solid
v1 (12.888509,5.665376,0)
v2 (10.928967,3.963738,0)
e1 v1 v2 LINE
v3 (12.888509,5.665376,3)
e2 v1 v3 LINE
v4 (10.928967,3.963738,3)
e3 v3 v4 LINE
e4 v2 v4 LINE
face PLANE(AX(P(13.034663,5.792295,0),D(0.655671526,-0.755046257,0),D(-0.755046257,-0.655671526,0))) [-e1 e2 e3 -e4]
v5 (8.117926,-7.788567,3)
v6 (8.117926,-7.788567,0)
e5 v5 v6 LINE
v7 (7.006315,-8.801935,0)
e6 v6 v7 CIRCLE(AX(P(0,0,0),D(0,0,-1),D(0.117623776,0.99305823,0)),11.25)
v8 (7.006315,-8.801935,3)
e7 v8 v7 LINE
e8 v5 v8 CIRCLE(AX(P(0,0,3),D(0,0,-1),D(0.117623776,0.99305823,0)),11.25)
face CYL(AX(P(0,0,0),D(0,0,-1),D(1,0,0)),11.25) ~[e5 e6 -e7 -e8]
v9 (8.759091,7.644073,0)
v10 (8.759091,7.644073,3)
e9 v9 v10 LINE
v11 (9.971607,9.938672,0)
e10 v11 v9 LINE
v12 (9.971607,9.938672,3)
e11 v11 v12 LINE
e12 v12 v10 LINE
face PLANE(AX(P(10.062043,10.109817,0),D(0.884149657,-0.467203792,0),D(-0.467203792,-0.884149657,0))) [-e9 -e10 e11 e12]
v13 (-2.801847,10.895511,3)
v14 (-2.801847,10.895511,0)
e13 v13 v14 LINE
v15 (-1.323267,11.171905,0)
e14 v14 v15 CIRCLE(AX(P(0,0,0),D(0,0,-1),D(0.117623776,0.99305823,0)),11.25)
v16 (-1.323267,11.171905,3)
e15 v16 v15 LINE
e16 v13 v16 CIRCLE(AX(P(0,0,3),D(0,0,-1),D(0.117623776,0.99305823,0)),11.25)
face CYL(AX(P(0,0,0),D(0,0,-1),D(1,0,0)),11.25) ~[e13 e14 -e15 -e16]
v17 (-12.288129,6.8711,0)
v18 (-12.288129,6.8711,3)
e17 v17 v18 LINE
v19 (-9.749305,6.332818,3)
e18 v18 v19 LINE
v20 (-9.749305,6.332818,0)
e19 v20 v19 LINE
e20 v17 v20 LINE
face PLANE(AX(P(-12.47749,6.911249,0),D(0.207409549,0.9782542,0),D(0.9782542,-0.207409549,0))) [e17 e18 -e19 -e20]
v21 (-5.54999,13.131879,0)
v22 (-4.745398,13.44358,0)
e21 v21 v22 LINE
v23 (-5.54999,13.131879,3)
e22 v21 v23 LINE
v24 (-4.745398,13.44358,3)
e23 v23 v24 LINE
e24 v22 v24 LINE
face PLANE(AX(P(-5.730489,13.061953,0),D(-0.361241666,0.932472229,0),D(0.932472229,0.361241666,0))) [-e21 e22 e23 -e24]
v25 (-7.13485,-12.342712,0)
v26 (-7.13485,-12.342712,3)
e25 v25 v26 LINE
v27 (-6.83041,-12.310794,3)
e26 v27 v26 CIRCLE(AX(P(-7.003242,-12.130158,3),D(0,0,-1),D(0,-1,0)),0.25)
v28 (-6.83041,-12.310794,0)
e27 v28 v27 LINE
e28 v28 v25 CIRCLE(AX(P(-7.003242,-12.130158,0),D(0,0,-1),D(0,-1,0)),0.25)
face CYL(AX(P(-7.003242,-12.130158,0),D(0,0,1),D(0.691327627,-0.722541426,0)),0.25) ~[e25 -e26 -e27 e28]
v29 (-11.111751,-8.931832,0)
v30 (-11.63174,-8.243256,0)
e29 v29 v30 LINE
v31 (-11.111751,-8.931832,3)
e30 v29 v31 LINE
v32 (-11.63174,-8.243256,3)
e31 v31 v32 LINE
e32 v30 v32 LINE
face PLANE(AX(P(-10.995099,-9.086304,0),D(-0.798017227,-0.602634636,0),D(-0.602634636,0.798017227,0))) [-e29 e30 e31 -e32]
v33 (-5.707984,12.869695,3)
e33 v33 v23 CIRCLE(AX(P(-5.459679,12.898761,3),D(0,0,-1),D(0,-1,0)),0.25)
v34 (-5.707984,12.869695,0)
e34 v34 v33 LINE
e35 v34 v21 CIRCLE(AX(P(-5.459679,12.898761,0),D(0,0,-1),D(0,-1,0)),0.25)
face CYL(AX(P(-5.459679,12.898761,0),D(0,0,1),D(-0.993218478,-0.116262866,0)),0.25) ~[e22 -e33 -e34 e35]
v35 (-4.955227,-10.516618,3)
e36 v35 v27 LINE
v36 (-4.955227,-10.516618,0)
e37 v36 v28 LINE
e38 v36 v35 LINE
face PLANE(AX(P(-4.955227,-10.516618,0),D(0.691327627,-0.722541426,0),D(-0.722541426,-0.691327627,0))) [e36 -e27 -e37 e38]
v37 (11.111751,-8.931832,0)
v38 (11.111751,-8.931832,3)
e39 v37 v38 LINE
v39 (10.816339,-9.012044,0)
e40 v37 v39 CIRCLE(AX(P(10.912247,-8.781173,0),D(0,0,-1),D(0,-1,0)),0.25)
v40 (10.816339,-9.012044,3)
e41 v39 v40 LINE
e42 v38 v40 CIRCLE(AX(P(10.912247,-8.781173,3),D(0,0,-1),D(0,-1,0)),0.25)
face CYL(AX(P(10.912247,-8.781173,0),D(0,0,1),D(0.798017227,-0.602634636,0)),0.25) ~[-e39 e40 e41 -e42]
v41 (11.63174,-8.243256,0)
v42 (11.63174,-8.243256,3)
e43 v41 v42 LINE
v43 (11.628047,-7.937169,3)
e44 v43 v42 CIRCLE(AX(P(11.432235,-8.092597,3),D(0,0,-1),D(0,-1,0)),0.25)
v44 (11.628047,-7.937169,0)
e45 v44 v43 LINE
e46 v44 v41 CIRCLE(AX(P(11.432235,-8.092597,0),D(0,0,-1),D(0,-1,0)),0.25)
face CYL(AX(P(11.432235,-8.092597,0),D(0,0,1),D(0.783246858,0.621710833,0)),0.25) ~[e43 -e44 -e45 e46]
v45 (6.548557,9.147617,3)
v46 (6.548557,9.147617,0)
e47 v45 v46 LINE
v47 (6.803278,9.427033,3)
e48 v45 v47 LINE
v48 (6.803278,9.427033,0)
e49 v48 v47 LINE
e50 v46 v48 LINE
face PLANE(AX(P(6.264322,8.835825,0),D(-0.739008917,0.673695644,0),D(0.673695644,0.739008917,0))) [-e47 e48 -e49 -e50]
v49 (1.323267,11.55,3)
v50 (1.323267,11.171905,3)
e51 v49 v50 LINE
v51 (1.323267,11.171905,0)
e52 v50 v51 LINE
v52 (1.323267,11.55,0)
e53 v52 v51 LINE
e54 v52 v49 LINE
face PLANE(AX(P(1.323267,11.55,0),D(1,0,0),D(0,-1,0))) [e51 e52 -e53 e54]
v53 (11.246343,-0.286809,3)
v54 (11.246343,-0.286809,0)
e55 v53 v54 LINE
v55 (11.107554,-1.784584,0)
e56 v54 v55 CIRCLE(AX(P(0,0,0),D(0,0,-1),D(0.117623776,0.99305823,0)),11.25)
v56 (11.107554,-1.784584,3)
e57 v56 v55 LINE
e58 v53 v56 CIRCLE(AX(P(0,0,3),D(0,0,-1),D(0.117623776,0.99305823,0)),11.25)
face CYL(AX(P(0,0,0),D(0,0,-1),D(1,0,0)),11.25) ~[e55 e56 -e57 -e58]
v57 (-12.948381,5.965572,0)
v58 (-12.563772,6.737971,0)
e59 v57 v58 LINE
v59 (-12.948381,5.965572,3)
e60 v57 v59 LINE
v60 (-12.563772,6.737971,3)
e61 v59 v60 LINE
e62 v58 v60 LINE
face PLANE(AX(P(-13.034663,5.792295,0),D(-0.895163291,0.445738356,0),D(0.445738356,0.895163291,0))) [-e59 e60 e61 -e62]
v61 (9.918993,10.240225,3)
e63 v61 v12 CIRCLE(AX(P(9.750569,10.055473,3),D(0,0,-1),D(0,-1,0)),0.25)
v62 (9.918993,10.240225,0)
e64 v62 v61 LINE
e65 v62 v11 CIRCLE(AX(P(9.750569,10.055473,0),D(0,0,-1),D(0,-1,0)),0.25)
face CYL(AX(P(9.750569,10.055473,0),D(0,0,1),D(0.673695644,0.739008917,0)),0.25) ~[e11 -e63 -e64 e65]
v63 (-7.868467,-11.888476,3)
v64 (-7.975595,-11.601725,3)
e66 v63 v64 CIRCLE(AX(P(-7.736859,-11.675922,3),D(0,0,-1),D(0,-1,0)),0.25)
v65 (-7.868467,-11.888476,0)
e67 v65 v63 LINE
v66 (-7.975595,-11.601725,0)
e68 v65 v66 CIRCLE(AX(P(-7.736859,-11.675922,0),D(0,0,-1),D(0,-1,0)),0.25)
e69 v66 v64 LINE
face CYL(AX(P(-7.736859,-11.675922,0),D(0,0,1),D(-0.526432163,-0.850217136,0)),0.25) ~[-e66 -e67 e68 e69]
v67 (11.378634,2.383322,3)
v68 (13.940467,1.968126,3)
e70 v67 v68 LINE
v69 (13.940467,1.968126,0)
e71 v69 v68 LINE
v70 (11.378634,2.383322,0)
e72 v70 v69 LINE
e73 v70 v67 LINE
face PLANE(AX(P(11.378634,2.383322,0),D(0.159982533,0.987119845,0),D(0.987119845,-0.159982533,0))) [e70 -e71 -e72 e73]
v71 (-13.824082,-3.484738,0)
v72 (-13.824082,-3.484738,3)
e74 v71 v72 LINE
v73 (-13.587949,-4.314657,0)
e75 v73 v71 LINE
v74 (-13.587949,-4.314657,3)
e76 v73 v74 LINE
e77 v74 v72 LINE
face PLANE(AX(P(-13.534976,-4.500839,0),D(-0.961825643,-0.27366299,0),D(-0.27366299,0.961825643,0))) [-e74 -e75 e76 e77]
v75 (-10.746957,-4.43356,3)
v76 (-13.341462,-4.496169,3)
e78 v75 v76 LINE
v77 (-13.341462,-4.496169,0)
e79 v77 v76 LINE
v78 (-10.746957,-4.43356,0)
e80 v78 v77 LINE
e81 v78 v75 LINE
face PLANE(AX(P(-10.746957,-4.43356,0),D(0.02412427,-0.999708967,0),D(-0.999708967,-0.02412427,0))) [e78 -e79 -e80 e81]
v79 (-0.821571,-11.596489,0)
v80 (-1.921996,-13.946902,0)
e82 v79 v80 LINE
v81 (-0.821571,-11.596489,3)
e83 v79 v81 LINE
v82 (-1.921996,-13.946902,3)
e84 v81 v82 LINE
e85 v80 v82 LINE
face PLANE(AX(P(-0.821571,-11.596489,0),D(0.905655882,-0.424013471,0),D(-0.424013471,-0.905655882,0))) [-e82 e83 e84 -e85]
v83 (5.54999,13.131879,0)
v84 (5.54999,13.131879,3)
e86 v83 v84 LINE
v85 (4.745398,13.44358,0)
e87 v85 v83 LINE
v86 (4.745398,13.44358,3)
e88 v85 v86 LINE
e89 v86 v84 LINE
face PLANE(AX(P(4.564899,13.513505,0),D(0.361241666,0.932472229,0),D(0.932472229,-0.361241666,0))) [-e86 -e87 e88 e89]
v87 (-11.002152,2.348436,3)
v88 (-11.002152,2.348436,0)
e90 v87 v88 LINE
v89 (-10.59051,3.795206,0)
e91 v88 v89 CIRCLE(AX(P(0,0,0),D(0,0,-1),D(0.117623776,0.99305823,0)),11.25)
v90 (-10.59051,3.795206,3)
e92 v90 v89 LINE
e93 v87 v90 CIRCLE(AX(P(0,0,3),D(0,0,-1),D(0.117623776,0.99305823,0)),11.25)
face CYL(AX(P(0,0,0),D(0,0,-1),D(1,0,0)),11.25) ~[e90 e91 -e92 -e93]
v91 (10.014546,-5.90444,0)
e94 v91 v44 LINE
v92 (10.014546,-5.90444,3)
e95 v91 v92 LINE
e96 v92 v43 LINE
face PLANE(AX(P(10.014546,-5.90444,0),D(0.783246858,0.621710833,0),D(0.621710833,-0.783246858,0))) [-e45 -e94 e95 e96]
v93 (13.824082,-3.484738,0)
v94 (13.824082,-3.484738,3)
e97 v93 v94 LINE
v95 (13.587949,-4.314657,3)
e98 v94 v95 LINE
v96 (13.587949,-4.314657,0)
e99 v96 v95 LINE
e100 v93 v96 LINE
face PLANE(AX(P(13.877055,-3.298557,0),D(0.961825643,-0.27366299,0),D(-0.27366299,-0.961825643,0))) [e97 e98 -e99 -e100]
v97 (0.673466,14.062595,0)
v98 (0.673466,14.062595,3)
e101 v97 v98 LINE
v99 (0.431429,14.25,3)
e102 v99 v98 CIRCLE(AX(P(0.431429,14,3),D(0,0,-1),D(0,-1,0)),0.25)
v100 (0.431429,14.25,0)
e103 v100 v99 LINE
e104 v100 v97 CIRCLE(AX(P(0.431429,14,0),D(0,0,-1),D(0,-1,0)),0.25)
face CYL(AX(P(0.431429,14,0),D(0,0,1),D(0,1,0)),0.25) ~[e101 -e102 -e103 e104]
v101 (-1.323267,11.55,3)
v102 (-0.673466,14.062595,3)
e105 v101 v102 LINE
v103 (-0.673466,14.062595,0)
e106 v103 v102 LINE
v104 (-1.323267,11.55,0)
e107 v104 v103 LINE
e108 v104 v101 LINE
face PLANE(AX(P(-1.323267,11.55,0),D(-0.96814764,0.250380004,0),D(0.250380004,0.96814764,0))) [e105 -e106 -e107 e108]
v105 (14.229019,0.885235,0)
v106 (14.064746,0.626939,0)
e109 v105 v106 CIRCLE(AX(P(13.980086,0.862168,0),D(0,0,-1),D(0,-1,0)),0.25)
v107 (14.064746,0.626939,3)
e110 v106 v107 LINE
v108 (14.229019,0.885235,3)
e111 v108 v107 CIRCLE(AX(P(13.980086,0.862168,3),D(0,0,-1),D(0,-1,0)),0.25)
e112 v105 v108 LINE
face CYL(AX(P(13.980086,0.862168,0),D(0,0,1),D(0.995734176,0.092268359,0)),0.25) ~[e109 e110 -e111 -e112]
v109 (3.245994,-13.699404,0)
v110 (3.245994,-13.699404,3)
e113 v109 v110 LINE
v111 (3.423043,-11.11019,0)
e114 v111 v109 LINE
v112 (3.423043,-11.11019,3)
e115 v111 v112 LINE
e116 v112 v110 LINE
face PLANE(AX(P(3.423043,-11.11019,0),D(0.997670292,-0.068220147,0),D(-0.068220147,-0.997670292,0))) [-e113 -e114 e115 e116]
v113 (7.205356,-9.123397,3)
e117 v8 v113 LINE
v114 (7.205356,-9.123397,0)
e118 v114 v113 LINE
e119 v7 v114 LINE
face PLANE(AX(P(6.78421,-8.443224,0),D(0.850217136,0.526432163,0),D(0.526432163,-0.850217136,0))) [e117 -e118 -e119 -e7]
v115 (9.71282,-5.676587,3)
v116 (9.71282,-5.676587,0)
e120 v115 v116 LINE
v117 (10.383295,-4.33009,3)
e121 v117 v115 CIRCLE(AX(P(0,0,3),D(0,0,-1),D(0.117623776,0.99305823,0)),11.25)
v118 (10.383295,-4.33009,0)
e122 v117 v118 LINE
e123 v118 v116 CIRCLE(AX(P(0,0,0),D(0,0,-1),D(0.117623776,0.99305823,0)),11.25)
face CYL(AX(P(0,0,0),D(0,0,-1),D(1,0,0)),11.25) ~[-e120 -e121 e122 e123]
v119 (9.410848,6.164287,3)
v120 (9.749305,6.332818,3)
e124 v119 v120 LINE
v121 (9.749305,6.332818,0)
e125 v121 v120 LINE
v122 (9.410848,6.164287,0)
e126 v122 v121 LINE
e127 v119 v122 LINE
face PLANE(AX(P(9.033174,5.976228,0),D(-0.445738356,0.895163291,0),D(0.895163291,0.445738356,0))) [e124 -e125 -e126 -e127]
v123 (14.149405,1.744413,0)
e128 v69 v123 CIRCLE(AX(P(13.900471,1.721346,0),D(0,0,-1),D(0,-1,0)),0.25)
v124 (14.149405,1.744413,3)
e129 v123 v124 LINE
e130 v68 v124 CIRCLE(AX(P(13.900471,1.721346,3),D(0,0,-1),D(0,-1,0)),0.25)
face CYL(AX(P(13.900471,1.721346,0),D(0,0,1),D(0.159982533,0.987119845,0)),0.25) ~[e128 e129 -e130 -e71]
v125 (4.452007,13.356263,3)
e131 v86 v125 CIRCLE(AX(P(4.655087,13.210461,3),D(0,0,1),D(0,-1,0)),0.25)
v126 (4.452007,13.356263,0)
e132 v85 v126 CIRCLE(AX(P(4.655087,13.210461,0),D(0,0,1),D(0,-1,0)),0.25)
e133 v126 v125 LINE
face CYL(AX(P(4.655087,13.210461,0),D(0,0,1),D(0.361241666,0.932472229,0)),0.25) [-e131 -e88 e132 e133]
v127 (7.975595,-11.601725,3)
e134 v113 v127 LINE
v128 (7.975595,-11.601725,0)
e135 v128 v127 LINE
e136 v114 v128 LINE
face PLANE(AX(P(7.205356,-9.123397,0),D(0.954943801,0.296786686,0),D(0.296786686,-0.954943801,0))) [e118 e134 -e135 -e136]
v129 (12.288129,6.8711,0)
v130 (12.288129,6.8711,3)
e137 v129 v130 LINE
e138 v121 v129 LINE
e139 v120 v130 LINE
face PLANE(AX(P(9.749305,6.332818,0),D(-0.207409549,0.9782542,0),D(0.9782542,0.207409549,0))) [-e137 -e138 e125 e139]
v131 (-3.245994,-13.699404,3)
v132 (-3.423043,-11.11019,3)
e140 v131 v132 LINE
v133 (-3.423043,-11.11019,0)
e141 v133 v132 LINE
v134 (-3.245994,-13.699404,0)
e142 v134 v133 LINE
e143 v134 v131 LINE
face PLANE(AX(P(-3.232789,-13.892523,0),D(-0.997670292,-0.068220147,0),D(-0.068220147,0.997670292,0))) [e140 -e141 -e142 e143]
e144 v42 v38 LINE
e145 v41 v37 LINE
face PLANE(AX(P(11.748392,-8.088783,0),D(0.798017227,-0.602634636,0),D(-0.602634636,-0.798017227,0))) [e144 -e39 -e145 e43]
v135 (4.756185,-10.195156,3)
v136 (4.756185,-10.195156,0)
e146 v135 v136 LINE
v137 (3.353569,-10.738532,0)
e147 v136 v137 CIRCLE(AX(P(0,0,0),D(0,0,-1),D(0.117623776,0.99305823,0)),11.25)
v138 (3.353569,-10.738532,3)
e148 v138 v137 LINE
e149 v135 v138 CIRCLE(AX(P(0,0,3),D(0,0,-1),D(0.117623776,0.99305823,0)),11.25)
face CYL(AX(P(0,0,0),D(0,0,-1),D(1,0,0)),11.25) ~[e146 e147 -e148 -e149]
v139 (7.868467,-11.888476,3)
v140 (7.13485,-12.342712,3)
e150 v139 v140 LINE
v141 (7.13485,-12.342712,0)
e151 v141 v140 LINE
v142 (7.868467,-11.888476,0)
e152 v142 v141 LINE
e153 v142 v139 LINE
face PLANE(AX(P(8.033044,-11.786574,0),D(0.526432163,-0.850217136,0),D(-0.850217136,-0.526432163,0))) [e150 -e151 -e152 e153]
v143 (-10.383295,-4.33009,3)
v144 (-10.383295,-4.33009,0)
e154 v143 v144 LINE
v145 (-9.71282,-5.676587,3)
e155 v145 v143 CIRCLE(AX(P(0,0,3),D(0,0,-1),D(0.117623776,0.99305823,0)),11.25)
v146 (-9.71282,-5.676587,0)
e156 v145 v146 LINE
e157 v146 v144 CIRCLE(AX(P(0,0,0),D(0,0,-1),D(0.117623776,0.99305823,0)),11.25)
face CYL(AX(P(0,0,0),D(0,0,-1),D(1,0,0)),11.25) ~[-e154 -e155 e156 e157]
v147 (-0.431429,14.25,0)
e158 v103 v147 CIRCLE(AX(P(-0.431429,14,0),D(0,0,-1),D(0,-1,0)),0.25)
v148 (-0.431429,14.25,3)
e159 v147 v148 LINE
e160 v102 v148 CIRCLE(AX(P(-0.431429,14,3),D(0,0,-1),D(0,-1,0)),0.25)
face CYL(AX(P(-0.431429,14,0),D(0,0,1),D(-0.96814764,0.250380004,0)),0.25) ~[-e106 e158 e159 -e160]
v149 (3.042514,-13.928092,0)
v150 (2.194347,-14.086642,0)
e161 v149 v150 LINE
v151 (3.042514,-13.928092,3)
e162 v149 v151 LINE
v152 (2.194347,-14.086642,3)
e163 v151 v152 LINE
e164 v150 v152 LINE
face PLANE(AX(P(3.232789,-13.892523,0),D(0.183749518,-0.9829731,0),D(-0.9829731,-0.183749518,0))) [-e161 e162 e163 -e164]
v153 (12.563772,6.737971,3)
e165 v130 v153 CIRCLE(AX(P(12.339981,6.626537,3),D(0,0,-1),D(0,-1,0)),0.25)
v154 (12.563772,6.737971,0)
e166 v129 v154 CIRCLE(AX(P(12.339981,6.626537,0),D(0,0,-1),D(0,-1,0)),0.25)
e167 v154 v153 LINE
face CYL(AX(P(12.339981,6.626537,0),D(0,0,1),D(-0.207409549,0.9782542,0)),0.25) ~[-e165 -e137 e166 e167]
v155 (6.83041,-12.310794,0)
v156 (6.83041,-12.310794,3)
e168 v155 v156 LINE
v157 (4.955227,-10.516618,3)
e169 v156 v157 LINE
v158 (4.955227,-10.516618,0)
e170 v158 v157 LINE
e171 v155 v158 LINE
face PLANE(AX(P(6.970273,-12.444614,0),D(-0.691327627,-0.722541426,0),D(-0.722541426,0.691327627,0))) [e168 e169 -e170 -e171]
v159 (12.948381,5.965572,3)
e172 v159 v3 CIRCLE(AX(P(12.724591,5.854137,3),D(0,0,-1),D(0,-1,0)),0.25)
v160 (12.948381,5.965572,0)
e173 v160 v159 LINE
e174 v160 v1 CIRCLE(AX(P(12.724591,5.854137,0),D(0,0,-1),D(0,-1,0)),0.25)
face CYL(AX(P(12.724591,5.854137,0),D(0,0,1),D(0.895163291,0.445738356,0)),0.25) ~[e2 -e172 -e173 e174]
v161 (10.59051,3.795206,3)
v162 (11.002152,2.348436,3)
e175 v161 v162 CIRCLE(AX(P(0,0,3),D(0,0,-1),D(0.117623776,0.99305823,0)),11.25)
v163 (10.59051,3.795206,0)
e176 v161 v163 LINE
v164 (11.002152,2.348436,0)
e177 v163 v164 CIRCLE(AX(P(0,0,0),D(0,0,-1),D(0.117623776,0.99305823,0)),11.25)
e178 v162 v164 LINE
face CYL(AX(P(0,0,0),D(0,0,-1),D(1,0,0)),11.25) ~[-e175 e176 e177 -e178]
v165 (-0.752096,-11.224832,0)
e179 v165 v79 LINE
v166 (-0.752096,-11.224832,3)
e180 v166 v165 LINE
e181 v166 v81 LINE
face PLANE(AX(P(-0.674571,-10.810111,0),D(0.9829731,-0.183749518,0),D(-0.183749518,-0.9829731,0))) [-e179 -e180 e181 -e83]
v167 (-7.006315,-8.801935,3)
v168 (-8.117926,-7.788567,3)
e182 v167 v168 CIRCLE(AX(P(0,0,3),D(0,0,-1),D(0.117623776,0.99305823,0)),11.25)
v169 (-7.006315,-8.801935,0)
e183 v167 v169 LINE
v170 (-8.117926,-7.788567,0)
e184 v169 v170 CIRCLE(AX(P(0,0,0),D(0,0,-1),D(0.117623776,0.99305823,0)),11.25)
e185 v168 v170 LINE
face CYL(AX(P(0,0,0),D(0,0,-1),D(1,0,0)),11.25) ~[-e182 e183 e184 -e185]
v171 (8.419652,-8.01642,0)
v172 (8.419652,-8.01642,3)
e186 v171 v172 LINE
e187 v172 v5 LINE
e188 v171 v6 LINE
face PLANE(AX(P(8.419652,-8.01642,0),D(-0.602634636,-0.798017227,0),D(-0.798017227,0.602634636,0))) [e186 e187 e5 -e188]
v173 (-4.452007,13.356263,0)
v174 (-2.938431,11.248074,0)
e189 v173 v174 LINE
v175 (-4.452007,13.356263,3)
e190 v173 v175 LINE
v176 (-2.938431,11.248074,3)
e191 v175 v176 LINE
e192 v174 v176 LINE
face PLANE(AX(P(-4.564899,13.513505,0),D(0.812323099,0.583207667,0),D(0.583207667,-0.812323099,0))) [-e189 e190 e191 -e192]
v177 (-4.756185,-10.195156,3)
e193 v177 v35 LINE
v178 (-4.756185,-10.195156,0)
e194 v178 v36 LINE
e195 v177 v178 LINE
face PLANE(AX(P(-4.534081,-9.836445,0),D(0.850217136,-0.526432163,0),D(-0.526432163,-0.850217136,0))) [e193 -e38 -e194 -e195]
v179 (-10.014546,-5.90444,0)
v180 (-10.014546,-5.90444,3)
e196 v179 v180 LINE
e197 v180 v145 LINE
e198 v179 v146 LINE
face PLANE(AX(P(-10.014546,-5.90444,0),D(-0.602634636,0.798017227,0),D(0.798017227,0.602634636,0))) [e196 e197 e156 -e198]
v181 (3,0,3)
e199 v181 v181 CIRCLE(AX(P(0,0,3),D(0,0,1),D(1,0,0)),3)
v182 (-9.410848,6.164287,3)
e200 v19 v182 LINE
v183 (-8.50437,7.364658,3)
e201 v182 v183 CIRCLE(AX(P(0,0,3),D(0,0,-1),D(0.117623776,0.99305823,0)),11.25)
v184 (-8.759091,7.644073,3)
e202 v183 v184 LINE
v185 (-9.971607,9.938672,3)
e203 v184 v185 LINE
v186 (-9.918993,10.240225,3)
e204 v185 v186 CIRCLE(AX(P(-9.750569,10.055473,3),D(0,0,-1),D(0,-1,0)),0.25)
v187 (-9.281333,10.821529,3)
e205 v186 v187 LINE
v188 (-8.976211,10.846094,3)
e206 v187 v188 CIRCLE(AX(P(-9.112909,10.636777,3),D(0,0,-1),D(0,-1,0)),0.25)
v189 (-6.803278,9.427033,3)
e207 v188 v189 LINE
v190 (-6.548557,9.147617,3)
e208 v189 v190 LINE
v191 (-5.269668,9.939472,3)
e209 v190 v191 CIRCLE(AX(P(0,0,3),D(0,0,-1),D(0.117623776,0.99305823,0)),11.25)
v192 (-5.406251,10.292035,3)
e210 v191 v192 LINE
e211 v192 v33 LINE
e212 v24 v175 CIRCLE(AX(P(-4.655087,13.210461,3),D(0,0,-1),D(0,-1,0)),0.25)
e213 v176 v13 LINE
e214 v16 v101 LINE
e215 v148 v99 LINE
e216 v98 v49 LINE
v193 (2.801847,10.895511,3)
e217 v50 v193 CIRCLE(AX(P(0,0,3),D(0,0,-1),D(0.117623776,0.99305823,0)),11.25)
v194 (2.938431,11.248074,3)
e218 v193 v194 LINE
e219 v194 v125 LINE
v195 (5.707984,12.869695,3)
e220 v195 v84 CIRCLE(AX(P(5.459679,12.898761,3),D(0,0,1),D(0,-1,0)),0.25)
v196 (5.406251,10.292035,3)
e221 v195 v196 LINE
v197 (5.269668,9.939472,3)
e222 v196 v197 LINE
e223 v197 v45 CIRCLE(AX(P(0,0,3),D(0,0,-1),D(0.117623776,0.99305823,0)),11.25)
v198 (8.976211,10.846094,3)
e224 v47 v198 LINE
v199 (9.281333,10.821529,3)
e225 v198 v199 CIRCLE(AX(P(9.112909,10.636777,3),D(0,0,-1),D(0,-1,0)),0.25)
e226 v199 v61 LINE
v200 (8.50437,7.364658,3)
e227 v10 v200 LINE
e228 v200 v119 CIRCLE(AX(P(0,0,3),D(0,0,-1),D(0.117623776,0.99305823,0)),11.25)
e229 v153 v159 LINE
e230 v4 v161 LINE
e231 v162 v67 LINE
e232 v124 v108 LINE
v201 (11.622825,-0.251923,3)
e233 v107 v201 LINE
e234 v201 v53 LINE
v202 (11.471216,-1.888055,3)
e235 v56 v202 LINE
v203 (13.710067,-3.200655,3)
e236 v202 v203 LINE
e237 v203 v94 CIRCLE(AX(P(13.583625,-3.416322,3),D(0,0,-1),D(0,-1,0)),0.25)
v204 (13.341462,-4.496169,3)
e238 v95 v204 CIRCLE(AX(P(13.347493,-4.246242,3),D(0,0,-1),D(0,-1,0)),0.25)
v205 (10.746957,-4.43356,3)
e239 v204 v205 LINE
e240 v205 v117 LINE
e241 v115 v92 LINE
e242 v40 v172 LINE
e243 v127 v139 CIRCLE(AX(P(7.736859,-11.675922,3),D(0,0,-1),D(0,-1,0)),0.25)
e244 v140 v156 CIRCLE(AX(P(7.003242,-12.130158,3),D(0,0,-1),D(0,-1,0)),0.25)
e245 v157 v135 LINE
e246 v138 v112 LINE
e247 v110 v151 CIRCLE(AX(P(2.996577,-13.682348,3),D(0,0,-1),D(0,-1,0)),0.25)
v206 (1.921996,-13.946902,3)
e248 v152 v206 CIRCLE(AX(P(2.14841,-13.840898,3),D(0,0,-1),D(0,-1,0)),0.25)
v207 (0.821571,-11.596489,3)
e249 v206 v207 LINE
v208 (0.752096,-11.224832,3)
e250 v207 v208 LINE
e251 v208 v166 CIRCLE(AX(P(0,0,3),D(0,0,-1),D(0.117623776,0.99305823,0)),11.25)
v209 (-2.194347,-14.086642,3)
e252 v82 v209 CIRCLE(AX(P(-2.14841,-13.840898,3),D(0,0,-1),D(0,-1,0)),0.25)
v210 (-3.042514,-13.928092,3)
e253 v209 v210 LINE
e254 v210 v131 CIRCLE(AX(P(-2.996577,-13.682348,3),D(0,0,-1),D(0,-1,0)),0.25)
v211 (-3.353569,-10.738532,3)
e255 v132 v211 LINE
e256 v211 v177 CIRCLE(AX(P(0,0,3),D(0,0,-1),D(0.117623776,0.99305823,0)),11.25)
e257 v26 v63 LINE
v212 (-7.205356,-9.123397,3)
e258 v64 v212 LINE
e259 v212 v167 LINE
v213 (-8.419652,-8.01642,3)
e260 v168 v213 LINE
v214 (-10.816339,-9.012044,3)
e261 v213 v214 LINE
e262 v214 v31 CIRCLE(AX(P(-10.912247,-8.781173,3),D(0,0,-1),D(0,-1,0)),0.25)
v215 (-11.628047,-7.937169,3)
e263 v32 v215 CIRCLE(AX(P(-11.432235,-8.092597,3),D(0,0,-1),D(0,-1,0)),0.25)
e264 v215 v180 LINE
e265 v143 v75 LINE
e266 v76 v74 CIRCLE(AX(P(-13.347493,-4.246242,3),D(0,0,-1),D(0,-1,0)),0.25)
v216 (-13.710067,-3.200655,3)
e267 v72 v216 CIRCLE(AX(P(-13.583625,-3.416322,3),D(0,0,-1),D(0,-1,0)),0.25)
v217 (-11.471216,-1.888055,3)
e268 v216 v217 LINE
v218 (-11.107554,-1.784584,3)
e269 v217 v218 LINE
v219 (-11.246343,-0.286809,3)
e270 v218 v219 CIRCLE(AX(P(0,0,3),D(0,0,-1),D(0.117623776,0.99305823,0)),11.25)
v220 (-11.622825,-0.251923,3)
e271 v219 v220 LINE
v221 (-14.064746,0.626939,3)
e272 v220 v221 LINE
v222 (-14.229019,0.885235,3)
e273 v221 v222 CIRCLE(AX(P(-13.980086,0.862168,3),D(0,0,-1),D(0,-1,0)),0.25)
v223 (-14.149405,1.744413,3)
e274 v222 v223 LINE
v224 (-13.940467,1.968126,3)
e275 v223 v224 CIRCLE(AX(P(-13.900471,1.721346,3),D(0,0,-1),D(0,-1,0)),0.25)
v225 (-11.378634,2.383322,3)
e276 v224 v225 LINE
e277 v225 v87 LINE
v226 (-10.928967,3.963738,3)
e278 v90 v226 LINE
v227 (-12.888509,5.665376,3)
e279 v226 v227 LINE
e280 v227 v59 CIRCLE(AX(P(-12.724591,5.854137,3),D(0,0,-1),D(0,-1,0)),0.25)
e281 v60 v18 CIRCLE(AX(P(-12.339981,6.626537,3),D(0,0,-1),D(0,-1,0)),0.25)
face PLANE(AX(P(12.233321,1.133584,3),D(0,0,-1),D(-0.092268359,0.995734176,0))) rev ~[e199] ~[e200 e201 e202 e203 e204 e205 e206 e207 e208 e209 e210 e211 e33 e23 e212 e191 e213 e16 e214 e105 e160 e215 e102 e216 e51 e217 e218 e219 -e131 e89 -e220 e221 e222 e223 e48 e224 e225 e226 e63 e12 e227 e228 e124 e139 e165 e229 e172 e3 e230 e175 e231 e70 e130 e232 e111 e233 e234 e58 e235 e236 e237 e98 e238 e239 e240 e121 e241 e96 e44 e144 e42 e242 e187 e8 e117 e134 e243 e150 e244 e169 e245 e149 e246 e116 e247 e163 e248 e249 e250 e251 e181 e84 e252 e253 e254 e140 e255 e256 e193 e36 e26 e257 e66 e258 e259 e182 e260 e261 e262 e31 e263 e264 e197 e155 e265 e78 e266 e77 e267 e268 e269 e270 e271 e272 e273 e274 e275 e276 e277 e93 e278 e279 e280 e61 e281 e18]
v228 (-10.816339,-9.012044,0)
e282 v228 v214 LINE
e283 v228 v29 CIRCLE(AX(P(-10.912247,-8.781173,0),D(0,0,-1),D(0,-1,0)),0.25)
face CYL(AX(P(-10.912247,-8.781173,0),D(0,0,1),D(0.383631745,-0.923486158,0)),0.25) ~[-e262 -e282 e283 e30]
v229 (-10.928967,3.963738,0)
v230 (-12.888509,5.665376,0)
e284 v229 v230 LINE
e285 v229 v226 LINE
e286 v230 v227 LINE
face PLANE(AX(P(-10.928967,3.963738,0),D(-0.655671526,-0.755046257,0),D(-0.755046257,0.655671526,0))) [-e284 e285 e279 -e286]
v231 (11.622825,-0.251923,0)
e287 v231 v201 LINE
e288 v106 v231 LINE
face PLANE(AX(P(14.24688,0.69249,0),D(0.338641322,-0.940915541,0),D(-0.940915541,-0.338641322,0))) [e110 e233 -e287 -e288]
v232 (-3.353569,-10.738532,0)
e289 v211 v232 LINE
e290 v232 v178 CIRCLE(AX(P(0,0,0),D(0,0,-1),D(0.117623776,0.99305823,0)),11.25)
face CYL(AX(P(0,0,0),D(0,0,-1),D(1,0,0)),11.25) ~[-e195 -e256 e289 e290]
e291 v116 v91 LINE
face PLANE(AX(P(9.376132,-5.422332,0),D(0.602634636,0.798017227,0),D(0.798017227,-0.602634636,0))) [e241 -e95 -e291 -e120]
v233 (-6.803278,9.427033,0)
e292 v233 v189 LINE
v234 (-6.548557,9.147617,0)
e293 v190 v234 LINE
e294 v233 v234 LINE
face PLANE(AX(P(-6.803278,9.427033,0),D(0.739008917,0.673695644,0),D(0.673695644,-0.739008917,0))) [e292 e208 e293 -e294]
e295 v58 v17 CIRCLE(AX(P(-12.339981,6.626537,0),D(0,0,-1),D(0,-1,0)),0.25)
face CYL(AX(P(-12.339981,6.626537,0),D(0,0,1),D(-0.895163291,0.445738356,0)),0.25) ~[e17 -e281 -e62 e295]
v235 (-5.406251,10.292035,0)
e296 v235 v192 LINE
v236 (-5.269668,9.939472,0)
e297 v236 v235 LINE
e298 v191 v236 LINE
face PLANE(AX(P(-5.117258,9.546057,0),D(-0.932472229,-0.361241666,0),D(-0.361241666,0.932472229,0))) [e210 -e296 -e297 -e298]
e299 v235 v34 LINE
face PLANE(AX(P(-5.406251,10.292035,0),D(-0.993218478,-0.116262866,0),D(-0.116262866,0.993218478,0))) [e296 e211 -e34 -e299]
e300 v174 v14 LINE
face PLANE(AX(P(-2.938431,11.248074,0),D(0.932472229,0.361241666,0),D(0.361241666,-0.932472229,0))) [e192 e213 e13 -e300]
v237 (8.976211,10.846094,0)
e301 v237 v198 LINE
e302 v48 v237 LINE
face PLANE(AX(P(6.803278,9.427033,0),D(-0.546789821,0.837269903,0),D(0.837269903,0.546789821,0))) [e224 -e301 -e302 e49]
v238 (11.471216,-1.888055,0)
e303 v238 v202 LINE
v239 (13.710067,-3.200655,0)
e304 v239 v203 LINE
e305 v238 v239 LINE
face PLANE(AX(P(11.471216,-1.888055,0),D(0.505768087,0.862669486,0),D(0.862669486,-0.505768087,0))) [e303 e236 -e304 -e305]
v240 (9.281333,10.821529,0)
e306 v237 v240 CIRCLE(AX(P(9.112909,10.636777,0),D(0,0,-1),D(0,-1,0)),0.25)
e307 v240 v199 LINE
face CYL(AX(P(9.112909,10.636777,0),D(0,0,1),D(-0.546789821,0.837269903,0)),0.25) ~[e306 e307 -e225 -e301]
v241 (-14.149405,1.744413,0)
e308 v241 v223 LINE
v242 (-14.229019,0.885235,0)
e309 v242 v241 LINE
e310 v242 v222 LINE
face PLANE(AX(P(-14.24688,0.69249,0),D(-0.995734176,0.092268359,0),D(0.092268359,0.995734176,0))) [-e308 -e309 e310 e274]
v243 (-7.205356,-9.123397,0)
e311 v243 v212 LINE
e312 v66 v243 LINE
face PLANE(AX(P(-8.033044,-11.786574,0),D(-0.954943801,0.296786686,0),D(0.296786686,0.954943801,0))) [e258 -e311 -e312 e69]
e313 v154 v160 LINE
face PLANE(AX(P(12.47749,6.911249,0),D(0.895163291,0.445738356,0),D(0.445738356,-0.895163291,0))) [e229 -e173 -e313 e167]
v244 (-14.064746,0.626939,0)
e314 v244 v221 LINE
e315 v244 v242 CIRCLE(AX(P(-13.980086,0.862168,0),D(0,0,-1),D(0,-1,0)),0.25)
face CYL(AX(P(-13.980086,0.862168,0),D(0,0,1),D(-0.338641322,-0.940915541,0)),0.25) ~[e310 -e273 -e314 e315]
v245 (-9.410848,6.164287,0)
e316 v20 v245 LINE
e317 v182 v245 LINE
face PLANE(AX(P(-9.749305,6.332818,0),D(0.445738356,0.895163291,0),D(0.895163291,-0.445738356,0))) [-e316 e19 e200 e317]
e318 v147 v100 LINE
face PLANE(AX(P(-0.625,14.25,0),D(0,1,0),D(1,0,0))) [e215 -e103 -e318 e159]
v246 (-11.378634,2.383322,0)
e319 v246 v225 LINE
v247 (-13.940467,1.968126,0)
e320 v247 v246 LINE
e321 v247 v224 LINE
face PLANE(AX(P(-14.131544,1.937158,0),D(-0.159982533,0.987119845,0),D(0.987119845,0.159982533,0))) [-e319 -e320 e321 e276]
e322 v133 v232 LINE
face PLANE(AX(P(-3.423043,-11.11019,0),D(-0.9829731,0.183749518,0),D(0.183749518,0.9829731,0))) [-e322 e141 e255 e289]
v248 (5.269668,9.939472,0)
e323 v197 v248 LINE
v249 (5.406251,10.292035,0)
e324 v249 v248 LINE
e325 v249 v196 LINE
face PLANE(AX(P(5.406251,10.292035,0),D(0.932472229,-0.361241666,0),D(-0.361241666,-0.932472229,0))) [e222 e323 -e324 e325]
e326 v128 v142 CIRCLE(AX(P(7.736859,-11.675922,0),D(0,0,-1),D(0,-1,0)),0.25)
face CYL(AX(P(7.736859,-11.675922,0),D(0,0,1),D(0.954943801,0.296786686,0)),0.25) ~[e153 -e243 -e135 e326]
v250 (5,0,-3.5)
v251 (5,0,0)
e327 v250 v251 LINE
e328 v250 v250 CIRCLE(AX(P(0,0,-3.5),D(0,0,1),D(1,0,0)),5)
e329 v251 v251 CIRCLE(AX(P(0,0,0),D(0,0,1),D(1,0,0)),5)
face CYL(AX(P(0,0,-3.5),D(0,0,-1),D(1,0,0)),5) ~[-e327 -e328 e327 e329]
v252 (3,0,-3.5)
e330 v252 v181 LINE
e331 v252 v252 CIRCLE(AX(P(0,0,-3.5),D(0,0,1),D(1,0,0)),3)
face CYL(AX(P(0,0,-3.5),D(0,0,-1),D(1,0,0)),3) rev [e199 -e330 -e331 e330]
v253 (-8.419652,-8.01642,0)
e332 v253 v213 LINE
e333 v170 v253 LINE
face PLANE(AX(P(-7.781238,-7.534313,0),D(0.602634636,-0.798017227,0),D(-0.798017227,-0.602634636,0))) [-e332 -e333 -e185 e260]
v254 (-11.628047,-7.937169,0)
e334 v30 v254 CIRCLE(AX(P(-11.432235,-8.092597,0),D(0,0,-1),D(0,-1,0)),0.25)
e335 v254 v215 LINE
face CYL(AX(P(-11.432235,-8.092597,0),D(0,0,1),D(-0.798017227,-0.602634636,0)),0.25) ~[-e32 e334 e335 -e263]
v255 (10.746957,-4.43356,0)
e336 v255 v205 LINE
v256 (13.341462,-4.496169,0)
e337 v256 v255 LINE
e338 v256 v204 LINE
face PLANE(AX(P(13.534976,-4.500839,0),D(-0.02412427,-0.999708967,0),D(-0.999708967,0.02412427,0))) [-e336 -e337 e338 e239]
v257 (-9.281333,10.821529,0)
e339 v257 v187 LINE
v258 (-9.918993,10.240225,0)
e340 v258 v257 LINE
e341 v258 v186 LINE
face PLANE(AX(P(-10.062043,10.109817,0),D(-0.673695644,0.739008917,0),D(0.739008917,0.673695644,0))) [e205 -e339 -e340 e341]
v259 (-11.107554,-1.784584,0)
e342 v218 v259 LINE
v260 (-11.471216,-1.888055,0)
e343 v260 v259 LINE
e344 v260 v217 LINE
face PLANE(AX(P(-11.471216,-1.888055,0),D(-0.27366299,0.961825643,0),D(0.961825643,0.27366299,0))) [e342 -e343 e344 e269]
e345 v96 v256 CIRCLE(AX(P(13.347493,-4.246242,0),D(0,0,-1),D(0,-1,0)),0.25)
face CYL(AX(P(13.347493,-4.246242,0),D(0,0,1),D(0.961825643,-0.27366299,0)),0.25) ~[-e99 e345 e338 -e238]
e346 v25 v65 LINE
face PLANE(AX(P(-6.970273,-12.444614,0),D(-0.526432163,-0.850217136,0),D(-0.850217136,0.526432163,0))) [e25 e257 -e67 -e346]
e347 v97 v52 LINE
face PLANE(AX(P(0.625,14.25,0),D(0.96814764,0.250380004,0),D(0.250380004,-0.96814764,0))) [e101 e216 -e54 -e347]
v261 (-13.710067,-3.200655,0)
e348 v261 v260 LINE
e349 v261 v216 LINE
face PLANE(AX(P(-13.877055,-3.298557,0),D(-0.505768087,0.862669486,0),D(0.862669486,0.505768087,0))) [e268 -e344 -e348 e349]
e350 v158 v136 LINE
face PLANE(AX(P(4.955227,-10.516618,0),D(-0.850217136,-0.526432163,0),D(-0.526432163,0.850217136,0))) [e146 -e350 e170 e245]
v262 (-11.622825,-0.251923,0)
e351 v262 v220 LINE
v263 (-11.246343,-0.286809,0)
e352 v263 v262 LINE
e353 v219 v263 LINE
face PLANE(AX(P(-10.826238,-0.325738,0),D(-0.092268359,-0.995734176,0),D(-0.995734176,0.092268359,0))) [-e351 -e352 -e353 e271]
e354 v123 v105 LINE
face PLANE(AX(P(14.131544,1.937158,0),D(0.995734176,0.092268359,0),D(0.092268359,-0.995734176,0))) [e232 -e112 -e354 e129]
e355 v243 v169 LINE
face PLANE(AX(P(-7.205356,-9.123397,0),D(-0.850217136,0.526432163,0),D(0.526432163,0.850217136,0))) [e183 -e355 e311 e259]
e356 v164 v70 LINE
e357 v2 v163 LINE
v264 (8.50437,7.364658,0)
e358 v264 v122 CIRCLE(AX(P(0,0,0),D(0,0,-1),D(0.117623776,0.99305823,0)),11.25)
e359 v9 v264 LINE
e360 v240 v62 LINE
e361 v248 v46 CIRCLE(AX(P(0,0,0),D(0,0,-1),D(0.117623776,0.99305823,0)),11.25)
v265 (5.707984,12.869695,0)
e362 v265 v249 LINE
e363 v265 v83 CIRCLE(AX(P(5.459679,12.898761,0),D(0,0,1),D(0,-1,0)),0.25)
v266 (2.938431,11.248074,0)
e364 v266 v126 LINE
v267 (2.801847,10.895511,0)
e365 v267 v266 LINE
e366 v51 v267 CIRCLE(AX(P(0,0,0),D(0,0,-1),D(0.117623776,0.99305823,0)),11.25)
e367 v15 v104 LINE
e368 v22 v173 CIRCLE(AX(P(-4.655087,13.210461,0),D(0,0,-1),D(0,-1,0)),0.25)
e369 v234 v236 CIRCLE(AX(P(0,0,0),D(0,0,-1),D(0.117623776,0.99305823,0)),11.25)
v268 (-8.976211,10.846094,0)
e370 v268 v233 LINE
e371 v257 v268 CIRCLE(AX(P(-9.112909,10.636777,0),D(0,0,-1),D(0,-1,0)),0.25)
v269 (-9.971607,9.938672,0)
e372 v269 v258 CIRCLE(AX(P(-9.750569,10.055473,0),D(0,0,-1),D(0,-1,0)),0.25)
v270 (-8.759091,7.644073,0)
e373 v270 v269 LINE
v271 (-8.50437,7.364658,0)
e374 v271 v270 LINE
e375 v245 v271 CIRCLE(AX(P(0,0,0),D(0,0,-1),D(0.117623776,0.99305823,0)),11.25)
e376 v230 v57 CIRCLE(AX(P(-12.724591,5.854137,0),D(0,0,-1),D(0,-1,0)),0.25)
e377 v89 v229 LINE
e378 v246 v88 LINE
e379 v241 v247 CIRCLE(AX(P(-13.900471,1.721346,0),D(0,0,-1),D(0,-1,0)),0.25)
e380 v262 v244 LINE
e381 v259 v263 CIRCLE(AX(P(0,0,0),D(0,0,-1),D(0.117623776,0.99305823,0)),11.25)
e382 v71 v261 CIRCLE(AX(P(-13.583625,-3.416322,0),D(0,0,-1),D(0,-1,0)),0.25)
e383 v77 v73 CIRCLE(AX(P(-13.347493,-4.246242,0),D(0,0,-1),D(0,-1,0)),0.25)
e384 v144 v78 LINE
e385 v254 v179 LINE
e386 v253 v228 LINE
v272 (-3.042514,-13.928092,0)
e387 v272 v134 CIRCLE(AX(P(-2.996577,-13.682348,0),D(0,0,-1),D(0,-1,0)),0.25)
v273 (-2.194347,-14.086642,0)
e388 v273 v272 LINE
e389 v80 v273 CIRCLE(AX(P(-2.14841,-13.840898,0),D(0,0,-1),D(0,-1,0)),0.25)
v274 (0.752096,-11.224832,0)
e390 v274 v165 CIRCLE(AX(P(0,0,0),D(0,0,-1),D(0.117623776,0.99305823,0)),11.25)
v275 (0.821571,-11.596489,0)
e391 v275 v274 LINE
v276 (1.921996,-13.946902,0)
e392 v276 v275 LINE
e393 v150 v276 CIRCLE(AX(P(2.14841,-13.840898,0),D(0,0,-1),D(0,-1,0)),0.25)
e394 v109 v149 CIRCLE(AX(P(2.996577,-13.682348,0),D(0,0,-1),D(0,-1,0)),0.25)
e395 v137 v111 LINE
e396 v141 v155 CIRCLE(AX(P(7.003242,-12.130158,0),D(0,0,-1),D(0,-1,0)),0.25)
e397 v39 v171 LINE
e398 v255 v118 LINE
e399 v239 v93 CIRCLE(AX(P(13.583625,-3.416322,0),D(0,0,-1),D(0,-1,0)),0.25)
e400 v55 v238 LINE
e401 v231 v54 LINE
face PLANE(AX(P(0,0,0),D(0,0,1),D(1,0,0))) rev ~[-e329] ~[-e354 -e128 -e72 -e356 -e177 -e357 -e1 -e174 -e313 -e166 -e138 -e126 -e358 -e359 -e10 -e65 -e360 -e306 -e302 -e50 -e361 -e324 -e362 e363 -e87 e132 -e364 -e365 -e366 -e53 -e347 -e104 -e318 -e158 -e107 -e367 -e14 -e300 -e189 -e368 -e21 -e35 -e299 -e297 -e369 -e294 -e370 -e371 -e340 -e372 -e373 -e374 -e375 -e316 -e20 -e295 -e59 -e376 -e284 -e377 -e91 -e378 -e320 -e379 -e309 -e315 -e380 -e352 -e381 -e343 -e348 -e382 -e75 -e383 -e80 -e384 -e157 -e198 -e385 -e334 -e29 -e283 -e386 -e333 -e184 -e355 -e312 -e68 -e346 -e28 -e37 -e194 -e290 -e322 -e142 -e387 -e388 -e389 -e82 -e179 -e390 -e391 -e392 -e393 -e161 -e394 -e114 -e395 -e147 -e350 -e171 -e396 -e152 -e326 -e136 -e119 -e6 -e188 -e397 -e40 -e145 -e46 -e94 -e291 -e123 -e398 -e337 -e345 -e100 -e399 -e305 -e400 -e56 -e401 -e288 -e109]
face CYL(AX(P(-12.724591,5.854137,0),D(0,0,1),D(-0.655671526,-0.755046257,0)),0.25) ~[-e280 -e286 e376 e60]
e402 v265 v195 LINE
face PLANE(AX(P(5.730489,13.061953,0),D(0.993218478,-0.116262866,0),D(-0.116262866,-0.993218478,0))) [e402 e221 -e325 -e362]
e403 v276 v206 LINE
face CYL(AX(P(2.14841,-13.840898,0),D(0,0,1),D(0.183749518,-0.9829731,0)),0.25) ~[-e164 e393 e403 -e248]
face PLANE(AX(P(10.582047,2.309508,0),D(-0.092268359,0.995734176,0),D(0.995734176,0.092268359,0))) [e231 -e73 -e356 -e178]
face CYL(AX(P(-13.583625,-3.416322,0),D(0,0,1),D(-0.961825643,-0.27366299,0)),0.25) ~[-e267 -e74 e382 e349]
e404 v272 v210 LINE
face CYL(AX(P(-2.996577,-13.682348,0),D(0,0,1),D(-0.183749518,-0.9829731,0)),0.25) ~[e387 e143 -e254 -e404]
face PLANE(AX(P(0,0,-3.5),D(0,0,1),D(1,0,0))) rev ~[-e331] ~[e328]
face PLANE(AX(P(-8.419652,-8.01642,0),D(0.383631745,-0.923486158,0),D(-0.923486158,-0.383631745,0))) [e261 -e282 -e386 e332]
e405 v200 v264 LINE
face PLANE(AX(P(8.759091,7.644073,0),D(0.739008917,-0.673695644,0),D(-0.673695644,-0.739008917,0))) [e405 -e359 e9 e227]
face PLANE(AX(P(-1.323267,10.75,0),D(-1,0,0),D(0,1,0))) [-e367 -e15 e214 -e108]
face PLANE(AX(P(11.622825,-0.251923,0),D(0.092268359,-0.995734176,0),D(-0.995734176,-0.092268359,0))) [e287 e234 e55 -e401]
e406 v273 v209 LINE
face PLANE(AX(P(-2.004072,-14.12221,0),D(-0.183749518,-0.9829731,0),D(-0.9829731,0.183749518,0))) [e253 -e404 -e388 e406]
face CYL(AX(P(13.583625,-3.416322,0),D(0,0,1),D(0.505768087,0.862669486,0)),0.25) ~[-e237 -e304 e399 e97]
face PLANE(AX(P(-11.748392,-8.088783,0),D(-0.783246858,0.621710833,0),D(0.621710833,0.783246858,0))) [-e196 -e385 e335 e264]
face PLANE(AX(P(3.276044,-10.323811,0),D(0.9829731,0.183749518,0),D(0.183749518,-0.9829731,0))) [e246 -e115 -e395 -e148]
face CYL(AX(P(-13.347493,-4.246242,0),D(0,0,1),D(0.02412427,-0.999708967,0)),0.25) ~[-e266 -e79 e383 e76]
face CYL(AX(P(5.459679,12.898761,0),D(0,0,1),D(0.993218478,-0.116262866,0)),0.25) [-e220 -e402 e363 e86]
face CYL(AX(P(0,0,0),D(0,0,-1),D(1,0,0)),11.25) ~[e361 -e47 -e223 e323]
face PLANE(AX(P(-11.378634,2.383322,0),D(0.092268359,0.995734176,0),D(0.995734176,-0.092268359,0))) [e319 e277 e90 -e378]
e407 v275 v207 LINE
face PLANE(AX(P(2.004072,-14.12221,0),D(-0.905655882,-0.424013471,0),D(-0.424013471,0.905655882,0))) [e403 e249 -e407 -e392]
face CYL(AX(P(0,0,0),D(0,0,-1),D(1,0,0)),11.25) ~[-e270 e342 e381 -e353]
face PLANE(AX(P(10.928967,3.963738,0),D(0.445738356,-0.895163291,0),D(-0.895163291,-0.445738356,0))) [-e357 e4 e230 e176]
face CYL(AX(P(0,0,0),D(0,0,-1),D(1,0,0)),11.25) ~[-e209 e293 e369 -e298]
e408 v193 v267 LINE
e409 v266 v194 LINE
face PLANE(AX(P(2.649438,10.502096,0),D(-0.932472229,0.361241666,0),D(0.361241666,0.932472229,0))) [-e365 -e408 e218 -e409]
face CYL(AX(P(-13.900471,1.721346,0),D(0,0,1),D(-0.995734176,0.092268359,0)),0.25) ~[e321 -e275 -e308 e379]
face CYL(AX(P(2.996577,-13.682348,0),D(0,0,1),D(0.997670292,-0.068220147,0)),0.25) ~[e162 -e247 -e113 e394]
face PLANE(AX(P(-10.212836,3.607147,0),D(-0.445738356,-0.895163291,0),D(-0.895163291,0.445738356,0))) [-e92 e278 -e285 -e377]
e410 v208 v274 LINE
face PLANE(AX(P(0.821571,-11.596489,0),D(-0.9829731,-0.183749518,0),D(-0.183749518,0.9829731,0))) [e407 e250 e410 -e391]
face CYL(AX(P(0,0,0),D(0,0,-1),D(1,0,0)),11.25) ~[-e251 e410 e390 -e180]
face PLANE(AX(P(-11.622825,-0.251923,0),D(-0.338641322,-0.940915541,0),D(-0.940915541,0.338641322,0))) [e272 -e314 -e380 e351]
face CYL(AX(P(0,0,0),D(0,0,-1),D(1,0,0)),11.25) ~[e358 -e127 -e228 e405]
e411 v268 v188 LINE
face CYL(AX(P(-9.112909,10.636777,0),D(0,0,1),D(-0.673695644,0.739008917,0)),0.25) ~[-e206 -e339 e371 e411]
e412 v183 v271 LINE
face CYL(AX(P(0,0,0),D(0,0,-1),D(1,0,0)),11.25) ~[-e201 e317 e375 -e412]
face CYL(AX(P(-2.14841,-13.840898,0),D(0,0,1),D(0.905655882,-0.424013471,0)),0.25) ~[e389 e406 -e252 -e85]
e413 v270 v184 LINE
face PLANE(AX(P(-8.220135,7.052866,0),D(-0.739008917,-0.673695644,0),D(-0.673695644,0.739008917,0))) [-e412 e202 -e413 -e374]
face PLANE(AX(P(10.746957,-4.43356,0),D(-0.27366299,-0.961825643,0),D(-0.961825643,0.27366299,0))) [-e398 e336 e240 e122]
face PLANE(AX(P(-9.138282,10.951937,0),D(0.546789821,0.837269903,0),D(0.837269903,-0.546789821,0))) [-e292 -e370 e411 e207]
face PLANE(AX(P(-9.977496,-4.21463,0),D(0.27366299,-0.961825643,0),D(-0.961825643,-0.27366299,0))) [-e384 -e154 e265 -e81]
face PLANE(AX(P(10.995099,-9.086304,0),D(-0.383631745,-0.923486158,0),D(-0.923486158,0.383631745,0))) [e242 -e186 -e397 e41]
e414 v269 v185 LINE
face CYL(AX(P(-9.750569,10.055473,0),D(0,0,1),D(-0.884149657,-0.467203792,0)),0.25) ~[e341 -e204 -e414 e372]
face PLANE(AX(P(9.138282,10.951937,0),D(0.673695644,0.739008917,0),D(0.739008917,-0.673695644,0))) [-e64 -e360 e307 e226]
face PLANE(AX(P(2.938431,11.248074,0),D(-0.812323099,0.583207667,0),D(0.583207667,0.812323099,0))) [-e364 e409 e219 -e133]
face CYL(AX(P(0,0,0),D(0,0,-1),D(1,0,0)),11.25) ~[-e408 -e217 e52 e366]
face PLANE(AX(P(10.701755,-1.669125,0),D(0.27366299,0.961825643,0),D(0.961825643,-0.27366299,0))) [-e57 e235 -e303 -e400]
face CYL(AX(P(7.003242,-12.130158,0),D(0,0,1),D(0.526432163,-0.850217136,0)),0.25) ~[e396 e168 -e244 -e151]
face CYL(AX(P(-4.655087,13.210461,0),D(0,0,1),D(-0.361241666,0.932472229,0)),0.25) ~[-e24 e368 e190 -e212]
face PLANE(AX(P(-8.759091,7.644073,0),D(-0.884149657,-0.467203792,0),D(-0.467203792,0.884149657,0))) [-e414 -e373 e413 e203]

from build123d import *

# Parameters (mm, degrees)
SKETCH1_R                = 11.25
SKETCH1_R_2              = 3
BOSS_EXTRUDE1_DEPTH      = 3
BOSS_EXTRUDE2_DEPTH      = 3
FILLET1_R                = 0.25
CIRPATTERN1_COUNT        = 17
FILLET1_OF_CIRPATTERN1_R = 0.25
BOSS_EXTRUDE3_START      = -3.5
SKETCH3_R                = 5
SKETCH3_R_2              = 3
BOSS_EXTRUDE3_DEPTH      = 3.5


with BuildPart() as part:
    # Sketch1 → Boss-Extrude1 (new body)
    with BuildSketch(Plane.XY):
        Circle(SKETCH1_R)
        Circle(SKETCH1_R_2, mode=Mode.SUBTRACT)
    extrude(amount=BOSS_EXTRUDE1_DEPTH)

    # Sketch2 → Boss-Extrude2 (add)
    with BuildSketch(Plane.XY):
        Polygon((-1.323267478, 10.75), (-1.323267478, 11.55), (-0.625, 14.25), (0.625, 14.25), (1.323267478, 11.55), (1.323267478, 10.75), align=None)
    boss_extrude2 = extrude(amount=BOSS_EXTRUDE2_DEPTH)

    # Fillet1
    fillet1_edges = [part.edges().sort_by_distance(p)[0] for p in [
        (0.625, 14.25, 1.5),
        (-0.625, 14.25, 1.5),
    ]]
    fillet(fillet1_edges, radius=FILLET1_R)

    # CirPattern1: Boss-Extrude2 ×17 about axis
    cirpattern1_axis = Axis((0, 0, 0), (0, 0, 1))
    for i in range(1, CIRPATTERN1_COUNT):
        add(boss_extrude2.rotate(cirpattern1_axis, i * 360 / CIRPATTERN1_COUNT))

    # Fillet1 of CirPattern1
    fillet1_of_cirpattern1_edges = [part.edges().sort_by_distance(p)[0] for p in [
        (-4.5648986, 13.51350531, 1.5),
        (-5.730488887, 13.061953228, 1.5),
        (-9.138282349, 10.951936848, 1.5),
        (-10.062043495, 10.109817293, 1.5),
        (-12.477490429, 6.911248627, 1.5),
        (-13.034663374, 5.792294513, 1.5),
        (-14.131544288, 1.937157983, 1.5),
        (-14.246879737, 0.692490262, 1.5),
        (-13.877054784, -3.298556582, 1.5),
        (-13.534976046, -4.500838636, 1.5),
        (-11.748392136, -8.088782801, 1.5),
        (-10.995098841, -9.086304335, 1.5),
        (-8.033044031, -11.786574082, 1.5),
        (-6.970272611, -12.444614286, 1.5),
        (-3.232788816, -13.892523222, 1.5),
        (-2.004072442, -14.122210119, 1.5),
        (2.004072442, -14.122210119, 1.5),
        (3.232788816, -13.892523222, 1.5),
        (6.970272611, -12.444614286, 1.5),
        (8.033044031, -11.786574082, 1.5),
        (10.995098841, -9.086304335, 1.5),
        (11.748392136, -8.088782801, 1.5),
        (13.534976046, -4.500838636, 1.5),
        (13.877054784, -3.298556582, 1.5),
        (14.246879737, 0.692490262, 1.5),
        (14.131544288, 1.937157983, 1.5),
        (13.034663374, 5.792294513, 1.5),
        (12.477490429, 6.911248627, 1.5),
        (10.062043495, 10.109817293, 1.5),
        (9.138282349, 10.951936848, 1.5),
        (5.730488887, 13.061953228, 1.5),
        (4.5648986, 13.51350531, 1.5),
    ]]
    fillet(fillet1_of_cirpattern1_edges, radius=FILLET1_OF_CIRPATTERN1_R)

    # Sketch3 → Boss-Extrude3 (add)
    with BuildSketch(Plane.XY.offset(BOSS_EXTRUDE3_START)):
        Circle(SKETCH3_R)
        Circle(SKETCH3_R_2, mode=Mode.SUBTRACT)
    extrude(amount=BOSS_EXTRUDE3_DEPTH)


solid = part.part
